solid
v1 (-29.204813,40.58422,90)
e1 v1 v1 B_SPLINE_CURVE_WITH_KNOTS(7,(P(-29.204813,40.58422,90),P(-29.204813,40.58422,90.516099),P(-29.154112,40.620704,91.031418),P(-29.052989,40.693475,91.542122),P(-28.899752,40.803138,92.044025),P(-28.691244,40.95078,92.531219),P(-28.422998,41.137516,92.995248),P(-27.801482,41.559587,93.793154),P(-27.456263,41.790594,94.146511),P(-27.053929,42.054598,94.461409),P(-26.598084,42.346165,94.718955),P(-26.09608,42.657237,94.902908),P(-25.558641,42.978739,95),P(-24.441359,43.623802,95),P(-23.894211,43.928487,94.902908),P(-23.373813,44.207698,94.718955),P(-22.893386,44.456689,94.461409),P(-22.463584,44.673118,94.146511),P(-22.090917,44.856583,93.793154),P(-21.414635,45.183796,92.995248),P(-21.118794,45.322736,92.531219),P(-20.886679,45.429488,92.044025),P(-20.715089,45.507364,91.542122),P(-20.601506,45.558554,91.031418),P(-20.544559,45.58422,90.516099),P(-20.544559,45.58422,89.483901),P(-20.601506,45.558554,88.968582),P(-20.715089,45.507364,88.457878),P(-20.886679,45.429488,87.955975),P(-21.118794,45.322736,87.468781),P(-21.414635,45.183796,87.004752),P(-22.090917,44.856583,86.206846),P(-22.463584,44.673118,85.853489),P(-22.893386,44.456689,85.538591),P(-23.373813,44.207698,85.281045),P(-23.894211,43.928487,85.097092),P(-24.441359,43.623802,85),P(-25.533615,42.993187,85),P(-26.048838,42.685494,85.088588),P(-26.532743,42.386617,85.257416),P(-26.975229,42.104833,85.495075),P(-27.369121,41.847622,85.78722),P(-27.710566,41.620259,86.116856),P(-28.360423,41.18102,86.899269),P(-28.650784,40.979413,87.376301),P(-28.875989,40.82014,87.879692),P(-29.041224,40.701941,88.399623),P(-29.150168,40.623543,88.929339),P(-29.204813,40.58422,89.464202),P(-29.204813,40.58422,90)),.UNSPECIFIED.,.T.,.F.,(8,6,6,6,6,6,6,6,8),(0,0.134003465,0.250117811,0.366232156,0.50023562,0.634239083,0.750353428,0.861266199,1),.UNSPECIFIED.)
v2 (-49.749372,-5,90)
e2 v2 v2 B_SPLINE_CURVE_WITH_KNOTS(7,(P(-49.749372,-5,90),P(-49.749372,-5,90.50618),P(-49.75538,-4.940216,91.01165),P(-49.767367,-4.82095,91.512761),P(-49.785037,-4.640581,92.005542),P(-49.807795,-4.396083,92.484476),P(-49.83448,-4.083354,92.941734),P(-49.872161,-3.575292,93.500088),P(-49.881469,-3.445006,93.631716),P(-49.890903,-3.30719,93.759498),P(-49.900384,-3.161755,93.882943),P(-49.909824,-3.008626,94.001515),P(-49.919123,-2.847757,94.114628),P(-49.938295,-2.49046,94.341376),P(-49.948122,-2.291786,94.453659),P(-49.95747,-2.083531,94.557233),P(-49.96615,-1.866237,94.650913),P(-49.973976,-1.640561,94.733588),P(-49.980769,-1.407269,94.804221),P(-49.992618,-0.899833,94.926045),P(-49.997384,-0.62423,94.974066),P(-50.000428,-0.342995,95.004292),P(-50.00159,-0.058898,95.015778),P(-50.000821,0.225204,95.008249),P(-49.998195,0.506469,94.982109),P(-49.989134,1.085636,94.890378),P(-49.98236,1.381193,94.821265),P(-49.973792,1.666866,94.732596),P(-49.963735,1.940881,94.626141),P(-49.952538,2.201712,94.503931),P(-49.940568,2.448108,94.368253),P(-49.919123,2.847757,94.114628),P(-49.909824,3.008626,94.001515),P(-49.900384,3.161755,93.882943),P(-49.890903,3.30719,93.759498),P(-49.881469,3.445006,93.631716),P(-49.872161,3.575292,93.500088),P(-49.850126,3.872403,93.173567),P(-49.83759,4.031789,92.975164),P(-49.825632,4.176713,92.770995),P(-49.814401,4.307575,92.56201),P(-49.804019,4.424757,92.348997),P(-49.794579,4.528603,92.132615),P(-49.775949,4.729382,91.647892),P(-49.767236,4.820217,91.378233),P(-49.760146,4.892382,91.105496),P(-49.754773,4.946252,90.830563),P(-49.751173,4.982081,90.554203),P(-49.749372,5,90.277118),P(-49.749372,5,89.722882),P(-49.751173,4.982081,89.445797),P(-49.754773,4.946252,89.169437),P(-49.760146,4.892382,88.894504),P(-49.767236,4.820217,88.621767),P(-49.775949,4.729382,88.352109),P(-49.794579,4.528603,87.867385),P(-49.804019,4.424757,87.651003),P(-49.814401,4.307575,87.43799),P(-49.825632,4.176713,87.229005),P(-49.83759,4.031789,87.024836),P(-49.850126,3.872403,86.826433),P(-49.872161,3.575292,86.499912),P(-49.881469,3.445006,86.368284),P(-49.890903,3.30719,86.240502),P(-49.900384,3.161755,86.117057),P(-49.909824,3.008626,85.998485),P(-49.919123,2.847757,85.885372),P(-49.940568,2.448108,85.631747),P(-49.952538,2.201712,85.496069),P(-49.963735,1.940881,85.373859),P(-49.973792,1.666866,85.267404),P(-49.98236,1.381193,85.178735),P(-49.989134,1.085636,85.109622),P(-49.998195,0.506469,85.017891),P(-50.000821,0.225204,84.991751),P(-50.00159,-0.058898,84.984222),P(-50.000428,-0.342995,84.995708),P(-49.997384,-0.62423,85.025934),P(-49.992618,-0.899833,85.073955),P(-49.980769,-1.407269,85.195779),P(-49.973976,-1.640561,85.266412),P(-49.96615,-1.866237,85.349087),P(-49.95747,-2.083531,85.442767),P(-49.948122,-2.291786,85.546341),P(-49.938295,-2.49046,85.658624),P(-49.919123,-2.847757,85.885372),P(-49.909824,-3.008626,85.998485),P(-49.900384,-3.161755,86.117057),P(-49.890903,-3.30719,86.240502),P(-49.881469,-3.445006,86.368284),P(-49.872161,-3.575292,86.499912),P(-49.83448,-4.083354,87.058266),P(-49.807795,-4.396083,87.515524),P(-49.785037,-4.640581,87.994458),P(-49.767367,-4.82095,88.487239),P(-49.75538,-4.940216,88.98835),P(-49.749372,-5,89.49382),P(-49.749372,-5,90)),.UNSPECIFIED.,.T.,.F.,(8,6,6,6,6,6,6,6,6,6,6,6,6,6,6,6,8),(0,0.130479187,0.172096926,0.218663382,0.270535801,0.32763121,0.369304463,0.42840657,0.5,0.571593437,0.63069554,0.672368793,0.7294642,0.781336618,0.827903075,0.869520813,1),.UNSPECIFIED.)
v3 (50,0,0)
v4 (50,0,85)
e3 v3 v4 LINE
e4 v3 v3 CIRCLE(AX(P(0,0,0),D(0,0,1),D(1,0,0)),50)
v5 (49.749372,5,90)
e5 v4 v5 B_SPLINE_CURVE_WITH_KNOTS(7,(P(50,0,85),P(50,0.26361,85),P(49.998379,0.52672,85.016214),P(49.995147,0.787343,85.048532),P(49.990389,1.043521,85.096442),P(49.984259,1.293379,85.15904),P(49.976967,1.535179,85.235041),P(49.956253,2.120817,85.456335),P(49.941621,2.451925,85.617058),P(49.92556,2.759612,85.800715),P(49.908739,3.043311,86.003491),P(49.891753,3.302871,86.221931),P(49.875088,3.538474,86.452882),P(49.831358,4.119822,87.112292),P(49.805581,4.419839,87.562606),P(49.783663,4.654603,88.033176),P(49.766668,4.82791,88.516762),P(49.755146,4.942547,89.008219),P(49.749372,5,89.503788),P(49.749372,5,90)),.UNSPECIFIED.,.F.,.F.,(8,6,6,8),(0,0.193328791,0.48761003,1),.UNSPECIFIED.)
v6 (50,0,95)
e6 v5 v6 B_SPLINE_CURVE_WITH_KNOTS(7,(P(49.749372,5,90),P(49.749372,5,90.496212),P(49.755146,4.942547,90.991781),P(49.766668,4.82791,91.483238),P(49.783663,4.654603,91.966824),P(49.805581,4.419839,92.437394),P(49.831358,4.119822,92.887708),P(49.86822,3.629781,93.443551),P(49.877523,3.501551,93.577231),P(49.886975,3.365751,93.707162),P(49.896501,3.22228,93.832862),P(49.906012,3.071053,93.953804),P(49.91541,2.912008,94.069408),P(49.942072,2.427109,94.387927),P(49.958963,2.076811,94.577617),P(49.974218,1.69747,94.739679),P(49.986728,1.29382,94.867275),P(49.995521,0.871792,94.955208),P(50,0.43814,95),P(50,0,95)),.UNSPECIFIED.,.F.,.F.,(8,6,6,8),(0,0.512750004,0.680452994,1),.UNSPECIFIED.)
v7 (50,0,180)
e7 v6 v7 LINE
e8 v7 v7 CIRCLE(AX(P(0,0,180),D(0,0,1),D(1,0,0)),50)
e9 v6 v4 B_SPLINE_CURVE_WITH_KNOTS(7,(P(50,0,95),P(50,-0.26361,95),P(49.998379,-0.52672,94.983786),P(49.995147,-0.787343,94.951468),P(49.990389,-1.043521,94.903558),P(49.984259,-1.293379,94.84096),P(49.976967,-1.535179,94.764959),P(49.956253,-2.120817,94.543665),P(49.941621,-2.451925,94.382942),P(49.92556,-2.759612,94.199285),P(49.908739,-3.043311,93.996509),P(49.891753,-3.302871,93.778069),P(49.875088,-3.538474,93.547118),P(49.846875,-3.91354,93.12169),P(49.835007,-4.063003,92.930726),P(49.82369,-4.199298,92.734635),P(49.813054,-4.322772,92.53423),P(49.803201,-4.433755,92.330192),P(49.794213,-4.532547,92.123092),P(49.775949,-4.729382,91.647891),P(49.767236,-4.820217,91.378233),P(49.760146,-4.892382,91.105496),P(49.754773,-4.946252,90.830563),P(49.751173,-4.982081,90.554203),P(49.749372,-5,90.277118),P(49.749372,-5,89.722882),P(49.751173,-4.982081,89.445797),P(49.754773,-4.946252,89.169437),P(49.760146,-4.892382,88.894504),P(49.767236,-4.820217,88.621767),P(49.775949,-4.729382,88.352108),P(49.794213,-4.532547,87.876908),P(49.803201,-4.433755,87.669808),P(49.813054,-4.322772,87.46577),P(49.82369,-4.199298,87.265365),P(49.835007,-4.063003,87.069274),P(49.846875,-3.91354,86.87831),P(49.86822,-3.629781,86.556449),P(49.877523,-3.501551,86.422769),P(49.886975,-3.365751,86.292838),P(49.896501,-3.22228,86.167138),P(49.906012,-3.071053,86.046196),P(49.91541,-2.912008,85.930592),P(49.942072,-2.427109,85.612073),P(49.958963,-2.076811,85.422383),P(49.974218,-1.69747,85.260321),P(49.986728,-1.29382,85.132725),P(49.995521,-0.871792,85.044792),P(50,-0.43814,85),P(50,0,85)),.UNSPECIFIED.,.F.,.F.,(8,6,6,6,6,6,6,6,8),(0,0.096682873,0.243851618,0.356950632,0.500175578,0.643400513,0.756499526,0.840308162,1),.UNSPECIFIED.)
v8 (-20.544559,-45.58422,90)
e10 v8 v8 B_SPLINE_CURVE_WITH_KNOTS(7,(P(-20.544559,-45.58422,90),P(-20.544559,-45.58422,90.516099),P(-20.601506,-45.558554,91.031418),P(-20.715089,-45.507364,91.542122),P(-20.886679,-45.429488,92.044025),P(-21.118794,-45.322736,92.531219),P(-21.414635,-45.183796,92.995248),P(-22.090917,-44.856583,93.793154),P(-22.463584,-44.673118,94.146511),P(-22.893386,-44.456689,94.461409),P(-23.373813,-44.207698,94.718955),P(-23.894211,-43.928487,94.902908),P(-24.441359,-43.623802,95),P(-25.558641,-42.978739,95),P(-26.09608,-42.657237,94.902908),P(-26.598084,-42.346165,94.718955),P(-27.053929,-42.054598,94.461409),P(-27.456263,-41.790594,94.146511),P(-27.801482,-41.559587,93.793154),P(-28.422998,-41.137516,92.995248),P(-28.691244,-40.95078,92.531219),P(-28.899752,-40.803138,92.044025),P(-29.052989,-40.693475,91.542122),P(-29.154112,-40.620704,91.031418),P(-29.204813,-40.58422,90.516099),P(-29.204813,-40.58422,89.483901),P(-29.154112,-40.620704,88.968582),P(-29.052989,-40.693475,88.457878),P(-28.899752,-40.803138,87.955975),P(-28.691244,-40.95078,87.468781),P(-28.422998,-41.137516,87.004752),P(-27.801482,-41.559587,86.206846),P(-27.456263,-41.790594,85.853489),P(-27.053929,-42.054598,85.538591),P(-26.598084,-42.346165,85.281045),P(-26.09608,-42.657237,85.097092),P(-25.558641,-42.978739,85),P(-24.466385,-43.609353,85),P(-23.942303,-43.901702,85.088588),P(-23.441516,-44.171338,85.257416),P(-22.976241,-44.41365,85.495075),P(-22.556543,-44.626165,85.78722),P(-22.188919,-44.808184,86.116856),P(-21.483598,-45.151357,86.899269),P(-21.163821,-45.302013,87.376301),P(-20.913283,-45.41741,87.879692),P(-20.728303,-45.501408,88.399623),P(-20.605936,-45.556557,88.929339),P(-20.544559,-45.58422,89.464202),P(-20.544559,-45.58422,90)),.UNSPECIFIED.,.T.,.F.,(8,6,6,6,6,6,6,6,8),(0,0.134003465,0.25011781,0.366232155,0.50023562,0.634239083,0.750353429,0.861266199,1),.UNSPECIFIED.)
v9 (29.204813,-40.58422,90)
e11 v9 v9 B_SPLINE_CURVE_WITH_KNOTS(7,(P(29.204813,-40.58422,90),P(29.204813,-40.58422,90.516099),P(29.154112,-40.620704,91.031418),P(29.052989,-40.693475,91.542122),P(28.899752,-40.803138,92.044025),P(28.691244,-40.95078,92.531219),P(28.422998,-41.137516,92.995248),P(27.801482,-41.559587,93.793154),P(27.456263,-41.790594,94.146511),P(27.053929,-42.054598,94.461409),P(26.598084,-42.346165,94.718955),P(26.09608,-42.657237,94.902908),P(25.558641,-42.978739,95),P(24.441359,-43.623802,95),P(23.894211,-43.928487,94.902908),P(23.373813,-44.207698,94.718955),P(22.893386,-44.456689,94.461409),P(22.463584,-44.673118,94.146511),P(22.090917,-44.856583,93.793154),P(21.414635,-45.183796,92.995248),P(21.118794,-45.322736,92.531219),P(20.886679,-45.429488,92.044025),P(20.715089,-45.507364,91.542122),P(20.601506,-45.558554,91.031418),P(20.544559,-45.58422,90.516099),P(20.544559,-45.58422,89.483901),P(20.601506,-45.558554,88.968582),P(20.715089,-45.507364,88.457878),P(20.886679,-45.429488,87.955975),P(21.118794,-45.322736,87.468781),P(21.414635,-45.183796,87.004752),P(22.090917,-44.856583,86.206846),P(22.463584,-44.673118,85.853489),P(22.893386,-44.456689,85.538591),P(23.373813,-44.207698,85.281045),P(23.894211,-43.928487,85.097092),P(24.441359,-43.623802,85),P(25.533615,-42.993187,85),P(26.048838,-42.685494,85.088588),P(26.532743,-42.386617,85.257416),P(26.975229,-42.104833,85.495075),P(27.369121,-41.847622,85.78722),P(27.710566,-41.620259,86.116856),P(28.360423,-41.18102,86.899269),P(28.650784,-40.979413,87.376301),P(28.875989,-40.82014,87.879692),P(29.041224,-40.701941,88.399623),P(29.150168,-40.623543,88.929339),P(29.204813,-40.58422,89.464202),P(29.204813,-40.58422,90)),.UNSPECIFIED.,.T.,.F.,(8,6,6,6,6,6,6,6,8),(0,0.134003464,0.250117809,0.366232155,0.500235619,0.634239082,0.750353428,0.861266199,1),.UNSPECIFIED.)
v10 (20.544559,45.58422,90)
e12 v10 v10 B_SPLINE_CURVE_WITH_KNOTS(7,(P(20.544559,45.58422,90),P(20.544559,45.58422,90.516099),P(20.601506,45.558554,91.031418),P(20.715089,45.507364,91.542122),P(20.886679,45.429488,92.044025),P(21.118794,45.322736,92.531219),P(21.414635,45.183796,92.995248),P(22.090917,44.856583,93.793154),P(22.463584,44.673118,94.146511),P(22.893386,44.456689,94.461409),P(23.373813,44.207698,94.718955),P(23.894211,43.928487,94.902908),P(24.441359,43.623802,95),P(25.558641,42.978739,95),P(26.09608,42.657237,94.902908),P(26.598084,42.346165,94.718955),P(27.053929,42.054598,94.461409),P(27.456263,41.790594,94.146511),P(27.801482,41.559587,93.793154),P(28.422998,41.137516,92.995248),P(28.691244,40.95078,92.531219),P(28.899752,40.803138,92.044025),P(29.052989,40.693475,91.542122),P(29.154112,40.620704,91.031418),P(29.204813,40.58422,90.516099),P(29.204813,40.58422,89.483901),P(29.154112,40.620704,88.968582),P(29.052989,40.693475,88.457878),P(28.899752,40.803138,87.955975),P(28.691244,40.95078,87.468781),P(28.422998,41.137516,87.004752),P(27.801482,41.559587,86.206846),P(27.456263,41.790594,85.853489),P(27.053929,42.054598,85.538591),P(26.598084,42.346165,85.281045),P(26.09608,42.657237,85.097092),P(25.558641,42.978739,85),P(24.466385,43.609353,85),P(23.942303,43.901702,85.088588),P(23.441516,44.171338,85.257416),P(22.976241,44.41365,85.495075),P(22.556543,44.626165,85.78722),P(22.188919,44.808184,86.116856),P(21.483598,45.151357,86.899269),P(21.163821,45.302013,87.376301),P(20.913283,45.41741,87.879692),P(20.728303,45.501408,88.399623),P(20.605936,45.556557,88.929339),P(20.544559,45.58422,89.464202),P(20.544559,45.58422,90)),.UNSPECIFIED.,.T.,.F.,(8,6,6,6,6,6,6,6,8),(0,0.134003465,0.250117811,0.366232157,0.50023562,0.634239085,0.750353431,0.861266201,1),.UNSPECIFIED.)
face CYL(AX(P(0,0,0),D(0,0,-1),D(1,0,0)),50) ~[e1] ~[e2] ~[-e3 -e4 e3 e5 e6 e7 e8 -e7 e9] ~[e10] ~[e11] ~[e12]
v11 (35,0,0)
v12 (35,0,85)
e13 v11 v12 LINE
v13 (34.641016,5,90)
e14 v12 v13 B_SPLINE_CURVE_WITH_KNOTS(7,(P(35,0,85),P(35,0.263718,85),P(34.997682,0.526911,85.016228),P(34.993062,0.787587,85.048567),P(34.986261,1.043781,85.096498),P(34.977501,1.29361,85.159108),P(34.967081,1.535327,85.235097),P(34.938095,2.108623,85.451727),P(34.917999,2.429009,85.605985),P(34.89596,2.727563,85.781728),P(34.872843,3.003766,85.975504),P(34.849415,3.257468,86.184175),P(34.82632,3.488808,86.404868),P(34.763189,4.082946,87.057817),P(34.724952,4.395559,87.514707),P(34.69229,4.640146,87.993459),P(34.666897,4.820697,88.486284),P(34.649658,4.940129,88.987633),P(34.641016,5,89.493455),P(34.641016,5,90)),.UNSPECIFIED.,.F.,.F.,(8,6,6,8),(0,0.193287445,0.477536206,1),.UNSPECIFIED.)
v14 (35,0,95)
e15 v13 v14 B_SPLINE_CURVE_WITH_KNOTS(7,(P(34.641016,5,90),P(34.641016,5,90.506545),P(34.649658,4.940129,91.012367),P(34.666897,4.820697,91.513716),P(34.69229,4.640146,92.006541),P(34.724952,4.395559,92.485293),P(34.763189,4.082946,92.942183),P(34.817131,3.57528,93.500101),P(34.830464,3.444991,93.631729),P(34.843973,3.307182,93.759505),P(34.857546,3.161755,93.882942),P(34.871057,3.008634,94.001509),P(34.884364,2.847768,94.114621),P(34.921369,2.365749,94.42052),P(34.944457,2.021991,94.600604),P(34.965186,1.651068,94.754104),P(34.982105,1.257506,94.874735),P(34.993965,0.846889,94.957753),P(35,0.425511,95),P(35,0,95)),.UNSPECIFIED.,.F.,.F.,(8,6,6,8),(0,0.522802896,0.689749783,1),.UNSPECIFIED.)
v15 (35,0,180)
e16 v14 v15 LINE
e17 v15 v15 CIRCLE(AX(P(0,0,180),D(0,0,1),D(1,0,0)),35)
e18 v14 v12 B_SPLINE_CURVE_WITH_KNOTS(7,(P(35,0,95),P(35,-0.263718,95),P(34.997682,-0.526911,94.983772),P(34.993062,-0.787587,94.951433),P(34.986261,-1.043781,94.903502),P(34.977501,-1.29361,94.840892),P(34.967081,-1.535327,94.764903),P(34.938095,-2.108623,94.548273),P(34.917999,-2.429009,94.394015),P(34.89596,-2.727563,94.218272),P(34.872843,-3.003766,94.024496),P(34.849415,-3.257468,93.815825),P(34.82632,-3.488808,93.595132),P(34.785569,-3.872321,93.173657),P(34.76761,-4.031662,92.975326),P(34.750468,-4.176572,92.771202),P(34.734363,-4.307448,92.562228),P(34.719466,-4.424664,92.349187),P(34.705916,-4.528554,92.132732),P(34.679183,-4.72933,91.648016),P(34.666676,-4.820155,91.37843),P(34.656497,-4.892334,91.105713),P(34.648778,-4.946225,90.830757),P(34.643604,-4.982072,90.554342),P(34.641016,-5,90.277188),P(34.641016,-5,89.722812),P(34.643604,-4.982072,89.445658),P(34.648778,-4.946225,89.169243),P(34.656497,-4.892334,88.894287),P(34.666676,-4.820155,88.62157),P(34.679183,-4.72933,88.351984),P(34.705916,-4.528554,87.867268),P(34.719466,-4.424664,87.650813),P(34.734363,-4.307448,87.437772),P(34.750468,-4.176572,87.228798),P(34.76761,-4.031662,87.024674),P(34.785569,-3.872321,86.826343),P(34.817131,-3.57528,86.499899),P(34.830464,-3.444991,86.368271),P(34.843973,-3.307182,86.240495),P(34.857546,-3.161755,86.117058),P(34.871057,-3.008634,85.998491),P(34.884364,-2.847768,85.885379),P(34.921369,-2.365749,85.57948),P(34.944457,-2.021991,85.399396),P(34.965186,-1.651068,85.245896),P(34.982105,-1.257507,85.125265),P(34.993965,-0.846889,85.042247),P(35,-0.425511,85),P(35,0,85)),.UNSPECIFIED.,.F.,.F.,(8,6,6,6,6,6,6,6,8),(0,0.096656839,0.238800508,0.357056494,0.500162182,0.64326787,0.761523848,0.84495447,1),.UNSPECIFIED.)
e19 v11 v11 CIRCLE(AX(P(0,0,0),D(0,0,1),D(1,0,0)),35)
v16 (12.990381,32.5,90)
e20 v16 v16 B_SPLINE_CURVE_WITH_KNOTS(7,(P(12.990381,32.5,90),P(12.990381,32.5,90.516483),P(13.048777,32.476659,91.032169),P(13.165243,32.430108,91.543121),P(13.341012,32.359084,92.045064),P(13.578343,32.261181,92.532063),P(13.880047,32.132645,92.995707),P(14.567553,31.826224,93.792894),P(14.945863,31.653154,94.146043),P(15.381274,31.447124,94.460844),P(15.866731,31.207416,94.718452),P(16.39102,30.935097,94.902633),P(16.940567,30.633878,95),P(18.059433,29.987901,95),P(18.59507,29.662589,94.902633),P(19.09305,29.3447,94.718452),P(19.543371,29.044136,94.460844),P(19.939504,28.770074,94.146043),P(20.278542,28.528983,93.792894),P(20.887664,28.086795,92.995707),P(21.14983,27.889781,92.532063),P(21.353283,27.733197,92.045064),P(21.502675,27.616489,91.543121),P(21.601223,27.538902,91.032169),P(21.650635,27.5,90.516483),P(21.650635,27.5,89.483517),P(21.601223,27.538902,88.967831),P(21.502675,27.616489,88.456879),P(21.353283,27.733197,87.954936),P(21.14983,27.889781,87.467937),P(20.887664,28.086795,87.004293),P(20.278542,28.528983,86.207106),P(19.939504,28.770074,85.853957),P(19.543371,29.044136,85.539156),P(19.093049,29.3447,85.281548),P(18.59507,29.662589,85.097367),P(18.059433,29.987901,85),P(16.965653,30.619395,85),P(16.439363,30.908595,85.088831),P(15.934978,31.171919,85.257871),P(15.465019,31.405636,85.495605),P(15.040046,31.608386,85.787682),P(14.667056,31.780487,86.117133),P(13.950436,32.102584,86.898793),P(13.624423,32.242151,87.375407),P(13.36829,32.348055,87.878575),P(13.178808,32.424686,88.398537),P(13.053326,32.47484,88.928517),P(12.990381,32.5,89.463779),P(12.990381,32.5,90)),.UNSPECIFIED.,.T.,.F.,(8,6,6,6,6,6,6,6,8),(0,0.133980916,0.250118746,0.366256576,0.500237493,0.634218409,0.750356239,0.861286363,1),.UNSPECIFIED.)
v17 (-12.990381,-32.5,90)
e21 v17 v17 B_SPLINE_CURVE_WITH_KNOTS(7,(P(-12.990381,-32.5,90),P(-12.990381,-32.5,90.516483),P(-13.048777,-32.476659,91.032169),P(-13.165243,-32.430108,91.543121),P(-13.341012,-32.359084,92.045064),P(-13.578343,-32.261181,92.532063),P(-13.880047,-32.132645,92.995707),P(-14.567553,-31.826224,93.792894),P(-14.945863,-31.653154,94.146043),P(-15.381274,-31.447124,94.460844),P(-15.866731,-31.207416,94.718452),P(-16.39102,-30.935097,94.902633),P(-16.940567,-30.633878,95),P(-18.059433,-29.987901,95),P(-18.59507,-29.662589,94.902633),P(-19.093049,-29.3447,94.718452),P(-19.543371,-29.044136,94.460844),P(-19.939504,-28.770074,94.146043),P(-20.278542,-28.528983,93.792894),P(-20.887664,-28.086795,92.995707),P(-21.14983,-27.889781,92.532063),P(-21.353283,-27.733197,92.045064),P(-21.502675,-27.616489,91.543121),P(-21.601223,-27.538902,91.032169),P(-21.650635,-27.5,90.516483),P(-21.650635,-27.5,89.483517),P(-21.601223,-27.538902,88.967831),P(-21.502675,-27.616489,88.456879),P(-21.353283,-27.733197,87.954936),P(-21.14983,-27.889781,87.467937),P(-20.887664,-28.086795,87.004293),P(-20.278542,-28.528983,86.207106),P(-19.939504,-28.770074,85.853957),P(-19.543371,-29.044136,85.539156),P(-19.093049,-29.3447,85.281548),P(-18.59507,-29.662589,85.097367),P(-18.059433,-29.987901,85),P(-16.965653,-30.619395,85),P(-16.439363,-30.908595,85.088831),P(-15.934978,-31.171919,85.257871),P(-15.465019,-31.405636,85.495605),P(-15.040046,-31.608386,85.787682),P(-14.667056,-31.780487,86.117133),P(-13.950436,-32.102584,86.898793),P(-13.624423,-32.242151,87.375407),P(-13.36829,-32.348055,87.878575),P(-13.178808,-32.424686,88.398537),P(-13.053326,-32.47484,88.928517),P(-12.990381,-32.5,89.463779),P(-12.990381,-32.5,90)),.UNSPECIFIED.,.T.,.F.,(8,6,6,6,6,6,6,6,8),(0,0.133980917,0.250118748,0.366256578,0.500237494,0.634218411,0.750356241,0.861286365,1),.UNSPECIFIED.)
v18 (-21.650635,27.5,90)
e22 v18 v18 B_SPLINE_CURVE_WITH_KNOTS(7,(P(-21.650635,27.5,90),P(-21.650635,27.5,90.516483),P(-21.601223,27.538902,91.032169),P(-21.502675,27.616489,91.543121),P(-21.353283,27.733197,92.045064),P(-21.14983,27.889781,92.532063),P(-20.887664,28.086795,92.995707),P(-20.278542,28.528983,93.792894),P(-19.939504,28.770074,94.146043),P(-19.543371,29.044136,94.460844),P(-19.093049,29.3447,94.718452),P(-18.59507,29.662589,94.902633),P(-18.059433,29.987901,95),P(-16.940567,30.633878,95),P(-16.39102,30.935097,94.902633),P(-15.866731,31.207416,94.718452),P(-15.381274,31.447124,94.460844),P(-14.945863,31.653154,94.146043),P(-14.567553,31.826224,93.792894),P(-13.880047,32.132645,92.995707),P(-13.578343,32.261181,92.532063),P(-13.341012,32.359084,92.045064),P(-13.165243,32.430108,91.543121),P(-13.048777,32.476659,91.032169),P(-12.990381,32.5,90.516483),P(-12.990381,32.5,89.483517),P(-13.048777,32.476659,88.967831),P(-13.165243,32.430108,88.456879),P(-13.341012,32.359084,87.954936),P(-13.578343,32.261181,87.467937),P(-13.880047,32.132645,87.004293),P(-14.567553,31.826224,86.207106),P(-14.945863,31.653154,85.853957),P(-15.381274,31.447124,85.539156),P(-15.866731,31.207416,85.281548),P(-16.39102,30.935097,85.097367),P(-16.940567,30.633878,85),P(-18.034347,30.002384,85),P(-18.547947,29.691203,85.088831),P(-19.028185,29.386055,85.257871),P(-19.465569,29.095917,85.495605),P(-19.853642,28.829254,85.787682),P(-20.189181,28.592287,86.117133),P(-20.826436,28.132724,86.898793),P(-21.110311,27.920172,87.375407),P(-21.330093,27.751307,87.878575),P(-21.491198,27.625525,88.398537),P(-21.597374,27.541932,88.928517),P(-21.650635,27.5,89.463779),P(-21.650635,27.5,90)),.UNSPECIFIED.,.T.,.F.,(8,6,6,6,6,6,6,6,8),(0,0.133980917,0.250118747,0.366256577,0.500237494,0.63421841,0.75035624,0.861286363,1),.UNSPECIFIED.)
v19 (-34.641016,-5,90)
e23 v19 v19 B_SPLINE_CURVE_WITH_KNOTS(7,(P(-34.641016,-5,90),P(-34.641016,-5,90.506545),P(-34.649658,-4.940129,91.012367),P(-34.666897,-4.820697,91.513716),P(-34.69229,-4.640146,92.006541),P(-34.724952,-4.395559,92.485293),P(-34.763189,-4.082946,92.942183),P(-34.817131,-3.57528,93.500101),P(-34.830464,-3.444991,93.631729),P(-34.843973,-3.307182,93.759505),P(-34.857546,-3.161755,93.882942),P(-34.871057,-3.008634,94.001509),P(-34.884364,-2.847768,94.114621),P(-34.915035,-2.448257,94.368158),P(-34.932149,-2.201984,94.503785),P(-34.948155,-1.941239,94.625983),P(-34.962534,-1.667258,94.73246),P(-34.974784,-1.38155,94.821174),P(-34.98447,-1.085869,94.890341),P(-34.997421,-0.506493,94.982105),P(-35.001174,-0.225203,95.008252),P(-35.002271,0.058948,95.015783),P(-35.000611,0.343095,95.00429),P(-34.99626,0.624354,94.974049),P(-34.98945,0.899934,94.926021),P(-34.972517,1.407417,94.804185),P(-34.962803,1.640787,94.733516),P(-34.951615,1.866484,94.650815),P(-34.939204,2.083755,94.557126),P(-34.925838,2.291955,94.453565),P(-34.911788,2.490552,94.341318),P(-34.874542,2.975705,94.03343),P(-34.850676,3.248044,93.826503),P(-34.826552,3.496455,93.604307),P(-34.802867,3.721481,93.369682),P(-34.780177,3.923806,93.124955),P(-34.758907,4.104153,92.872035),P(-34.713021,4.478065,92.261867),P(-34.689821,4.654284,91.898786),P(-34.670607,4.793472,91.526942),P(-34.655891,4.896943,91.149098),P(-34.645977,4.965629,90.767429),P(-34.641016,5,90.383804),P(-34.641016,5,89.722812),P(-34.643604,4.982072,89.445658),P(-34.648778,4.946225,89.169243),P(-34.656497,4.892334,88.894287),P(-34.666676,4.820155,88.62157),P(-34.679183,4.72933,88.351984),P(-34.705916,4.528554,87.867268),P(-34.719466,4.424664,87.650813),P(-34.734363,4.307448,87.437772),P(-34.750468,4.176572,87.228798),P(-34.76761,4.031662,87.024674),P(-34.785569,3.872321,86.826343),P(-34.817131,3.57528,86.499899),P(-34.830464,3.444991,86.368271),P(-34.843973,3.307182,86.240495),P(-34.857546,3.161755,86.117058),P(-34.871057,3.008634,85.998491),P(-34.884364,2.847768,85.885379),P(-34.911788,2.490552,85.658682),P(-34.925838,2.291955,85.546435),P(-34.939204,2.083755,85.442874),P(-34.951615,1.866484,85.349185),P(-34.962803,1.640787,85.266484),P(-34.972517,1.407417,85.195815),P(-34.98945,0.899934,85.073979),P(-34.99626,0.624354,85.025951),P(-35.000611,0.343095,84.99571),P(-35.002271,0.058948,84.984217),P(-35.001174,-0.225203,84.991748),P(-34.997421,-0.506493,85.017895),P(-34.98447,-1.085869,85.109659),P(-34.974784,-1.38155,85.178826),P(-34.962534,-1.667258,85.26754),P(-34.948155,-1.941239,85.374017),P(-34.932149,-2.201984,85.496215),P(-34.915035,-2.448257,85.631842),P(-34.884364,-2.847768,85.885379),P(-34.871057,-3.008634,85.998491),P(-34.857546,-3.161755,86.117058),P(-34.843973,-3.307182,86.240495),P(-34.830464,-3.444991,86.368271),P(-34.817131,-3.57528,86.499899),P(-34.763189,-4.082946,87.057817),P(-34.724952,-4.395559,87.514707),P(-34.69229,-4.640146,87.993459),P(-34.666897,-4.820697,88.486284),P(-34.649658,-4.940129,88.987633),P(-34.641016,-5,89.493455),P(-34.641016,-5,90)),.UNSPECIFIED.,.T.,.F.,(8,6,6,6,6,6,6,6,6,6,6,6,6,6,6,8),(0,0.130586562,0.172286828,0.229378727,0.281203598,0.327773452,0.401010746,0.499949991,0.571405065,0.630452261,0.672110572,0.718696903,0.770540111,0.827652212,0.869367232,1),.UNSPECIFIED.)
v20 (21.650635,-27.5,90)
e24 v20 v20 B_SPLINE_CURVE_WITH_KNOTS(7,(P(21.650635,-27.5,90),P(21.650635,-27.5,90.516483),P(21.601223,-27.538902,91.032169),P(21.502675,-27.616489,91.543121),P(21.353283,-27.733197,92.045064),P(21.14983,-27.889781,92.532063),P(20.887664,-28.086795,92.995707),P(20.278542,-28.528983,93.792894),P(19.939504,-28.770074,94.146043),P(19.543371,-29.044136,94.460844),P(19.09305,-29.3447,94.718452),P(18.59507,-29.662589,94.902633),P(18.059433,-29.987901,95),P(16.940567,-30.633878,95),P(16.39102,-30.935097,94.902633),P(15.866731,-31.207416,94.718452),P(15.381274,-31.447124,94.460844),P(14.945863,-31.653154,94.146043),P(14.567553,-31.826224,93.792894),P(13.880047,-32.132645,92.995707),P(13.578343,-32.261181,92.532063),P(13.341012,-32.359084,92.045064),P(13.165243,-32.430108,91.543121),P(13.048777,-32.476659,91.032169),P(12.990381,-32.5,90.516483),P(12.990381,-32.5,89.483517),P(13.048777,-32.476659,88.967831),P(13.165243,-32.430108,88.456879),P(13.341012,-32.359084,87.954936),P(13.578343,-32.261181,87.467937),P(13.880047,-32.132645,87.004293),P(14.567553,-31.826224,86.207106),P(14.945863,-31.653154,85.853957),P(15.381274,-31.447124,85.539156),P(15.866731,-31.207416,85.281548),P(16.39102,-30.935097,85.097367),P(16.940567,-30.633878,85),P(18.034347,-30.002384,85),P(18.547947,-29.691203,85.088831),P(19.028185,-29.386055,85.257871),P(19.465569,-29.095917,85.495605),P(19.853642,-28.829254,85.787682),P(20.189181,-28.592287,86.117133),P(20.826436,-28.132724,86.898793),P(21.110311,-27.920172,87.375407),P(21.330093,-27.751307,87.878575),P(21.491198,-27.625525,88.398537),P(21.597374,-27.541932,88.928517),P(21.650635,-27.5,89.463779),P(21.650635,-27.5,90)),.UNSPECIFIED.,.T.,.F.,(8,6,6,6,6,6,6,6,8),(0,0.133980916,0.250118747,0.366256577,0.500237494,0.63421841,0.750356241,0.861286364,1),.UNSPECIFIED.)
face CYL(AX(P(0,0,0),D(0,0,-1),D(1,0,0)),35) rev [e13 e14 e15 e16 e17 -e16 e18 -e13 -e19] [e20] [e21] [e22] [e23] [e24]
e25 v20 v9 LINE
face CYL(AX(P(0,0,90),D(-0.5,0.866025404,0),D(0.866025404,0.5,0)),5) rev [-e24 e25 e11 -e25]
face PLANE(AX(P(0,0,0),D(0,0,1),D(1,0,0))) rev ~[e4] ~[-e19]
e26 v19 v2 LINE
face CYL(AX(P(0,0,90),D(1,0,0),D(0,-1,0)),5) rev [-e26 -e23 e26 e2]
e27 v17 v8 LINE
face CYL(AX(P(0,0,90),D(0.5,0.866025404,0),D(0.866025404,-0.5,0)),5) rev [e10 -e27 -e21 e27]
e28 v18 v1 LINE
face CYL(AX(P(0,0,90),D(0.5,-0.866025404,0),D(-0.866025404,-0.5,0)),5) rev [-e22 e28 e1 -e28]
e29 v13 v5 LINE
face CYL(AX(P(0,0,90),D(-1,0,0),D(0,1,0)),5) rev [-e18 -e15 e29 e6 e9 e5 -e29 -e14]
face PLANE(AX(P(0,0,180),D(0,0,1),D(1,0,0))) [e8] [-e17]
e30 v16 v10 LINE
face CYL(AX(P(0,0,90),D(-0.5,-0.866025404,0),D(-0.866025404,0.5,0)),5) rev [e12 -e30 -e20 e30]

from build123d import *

# Parameters (mm, degrees)
F0_R     = 50
F0_R_2   = 35
F1_DEPTH = 180
F2_R     = 5
F3_DEPTH = 60
F4_COUNT = 6


with BuildPart() as f1:
    # F0 (on Top) → F1 (new body)
    with BuildSketch(Plane.XY):
        Circle(F0_R)
        Circle(F0_R_2, mode=Mode.SUBTRACT)
    extrude(amount=F1_DEPTH)


with BuildPart() as f3:
    # F2 (on Right) → F3 (new body)
    with BuildSketch(Plane.YZ):
        with Locations((0, 90)):
            Circle(F2_R)
    extrude(amount=F3_DEPTH)


with BuildPart() as f4_1:
    # F4: instance of F3
    add(f3.part.rotate(Axis((0, 0, 90), (0, 0, 1)), 1 * 360 / F4_COUNT))


with BuildPart() as f4_2:
    # F4: instance of F3
    add(f3.part.rotate(Axis((0, 0, 90), (0, 0, 1)), 2 * 360 / F4_COUNT))


with BuildPart() as f4_3:
    # F4: instance of F3
    add(f3.part.rotate(Axis((0, 0, 90), (0, 0, 1)), 3 * 360 / F4_COUNT))


with BuildPart() as f4_4:
    # F4: instance of F3
    add(f3.part.rotate(Axis((0, 0, 90), (0, 0, 1)), 4 * 360 / F4_COUNT))


with BuildPart() as f4_5:
    # F4: instance of F3
    add(f3.part.rotate(Axis((0, 0, 90), (0, 0, 1)), 5 * 360 / F4_COUNT))


with BuildPart() as f1_1:
    add(f1.part)

    # F5: cut F4_4, F4_5, F3, F4_1, F4_2, F4_3
    add(f4_4.part, mode=Mode.SUBTRACT)
    add(f4_5.part, mode=Mode.SUBTRACT)
    add(f3.part, mode=Mode.SUBTRACT)
    add(f4_1.part, mode=Mode.SUBTRACT)
    add(f4_2.part, mode=Mode.SUBTRACT)
    add(f4_3.part, mode=Mode.SUBTRACT)


solid = f1_1.part
